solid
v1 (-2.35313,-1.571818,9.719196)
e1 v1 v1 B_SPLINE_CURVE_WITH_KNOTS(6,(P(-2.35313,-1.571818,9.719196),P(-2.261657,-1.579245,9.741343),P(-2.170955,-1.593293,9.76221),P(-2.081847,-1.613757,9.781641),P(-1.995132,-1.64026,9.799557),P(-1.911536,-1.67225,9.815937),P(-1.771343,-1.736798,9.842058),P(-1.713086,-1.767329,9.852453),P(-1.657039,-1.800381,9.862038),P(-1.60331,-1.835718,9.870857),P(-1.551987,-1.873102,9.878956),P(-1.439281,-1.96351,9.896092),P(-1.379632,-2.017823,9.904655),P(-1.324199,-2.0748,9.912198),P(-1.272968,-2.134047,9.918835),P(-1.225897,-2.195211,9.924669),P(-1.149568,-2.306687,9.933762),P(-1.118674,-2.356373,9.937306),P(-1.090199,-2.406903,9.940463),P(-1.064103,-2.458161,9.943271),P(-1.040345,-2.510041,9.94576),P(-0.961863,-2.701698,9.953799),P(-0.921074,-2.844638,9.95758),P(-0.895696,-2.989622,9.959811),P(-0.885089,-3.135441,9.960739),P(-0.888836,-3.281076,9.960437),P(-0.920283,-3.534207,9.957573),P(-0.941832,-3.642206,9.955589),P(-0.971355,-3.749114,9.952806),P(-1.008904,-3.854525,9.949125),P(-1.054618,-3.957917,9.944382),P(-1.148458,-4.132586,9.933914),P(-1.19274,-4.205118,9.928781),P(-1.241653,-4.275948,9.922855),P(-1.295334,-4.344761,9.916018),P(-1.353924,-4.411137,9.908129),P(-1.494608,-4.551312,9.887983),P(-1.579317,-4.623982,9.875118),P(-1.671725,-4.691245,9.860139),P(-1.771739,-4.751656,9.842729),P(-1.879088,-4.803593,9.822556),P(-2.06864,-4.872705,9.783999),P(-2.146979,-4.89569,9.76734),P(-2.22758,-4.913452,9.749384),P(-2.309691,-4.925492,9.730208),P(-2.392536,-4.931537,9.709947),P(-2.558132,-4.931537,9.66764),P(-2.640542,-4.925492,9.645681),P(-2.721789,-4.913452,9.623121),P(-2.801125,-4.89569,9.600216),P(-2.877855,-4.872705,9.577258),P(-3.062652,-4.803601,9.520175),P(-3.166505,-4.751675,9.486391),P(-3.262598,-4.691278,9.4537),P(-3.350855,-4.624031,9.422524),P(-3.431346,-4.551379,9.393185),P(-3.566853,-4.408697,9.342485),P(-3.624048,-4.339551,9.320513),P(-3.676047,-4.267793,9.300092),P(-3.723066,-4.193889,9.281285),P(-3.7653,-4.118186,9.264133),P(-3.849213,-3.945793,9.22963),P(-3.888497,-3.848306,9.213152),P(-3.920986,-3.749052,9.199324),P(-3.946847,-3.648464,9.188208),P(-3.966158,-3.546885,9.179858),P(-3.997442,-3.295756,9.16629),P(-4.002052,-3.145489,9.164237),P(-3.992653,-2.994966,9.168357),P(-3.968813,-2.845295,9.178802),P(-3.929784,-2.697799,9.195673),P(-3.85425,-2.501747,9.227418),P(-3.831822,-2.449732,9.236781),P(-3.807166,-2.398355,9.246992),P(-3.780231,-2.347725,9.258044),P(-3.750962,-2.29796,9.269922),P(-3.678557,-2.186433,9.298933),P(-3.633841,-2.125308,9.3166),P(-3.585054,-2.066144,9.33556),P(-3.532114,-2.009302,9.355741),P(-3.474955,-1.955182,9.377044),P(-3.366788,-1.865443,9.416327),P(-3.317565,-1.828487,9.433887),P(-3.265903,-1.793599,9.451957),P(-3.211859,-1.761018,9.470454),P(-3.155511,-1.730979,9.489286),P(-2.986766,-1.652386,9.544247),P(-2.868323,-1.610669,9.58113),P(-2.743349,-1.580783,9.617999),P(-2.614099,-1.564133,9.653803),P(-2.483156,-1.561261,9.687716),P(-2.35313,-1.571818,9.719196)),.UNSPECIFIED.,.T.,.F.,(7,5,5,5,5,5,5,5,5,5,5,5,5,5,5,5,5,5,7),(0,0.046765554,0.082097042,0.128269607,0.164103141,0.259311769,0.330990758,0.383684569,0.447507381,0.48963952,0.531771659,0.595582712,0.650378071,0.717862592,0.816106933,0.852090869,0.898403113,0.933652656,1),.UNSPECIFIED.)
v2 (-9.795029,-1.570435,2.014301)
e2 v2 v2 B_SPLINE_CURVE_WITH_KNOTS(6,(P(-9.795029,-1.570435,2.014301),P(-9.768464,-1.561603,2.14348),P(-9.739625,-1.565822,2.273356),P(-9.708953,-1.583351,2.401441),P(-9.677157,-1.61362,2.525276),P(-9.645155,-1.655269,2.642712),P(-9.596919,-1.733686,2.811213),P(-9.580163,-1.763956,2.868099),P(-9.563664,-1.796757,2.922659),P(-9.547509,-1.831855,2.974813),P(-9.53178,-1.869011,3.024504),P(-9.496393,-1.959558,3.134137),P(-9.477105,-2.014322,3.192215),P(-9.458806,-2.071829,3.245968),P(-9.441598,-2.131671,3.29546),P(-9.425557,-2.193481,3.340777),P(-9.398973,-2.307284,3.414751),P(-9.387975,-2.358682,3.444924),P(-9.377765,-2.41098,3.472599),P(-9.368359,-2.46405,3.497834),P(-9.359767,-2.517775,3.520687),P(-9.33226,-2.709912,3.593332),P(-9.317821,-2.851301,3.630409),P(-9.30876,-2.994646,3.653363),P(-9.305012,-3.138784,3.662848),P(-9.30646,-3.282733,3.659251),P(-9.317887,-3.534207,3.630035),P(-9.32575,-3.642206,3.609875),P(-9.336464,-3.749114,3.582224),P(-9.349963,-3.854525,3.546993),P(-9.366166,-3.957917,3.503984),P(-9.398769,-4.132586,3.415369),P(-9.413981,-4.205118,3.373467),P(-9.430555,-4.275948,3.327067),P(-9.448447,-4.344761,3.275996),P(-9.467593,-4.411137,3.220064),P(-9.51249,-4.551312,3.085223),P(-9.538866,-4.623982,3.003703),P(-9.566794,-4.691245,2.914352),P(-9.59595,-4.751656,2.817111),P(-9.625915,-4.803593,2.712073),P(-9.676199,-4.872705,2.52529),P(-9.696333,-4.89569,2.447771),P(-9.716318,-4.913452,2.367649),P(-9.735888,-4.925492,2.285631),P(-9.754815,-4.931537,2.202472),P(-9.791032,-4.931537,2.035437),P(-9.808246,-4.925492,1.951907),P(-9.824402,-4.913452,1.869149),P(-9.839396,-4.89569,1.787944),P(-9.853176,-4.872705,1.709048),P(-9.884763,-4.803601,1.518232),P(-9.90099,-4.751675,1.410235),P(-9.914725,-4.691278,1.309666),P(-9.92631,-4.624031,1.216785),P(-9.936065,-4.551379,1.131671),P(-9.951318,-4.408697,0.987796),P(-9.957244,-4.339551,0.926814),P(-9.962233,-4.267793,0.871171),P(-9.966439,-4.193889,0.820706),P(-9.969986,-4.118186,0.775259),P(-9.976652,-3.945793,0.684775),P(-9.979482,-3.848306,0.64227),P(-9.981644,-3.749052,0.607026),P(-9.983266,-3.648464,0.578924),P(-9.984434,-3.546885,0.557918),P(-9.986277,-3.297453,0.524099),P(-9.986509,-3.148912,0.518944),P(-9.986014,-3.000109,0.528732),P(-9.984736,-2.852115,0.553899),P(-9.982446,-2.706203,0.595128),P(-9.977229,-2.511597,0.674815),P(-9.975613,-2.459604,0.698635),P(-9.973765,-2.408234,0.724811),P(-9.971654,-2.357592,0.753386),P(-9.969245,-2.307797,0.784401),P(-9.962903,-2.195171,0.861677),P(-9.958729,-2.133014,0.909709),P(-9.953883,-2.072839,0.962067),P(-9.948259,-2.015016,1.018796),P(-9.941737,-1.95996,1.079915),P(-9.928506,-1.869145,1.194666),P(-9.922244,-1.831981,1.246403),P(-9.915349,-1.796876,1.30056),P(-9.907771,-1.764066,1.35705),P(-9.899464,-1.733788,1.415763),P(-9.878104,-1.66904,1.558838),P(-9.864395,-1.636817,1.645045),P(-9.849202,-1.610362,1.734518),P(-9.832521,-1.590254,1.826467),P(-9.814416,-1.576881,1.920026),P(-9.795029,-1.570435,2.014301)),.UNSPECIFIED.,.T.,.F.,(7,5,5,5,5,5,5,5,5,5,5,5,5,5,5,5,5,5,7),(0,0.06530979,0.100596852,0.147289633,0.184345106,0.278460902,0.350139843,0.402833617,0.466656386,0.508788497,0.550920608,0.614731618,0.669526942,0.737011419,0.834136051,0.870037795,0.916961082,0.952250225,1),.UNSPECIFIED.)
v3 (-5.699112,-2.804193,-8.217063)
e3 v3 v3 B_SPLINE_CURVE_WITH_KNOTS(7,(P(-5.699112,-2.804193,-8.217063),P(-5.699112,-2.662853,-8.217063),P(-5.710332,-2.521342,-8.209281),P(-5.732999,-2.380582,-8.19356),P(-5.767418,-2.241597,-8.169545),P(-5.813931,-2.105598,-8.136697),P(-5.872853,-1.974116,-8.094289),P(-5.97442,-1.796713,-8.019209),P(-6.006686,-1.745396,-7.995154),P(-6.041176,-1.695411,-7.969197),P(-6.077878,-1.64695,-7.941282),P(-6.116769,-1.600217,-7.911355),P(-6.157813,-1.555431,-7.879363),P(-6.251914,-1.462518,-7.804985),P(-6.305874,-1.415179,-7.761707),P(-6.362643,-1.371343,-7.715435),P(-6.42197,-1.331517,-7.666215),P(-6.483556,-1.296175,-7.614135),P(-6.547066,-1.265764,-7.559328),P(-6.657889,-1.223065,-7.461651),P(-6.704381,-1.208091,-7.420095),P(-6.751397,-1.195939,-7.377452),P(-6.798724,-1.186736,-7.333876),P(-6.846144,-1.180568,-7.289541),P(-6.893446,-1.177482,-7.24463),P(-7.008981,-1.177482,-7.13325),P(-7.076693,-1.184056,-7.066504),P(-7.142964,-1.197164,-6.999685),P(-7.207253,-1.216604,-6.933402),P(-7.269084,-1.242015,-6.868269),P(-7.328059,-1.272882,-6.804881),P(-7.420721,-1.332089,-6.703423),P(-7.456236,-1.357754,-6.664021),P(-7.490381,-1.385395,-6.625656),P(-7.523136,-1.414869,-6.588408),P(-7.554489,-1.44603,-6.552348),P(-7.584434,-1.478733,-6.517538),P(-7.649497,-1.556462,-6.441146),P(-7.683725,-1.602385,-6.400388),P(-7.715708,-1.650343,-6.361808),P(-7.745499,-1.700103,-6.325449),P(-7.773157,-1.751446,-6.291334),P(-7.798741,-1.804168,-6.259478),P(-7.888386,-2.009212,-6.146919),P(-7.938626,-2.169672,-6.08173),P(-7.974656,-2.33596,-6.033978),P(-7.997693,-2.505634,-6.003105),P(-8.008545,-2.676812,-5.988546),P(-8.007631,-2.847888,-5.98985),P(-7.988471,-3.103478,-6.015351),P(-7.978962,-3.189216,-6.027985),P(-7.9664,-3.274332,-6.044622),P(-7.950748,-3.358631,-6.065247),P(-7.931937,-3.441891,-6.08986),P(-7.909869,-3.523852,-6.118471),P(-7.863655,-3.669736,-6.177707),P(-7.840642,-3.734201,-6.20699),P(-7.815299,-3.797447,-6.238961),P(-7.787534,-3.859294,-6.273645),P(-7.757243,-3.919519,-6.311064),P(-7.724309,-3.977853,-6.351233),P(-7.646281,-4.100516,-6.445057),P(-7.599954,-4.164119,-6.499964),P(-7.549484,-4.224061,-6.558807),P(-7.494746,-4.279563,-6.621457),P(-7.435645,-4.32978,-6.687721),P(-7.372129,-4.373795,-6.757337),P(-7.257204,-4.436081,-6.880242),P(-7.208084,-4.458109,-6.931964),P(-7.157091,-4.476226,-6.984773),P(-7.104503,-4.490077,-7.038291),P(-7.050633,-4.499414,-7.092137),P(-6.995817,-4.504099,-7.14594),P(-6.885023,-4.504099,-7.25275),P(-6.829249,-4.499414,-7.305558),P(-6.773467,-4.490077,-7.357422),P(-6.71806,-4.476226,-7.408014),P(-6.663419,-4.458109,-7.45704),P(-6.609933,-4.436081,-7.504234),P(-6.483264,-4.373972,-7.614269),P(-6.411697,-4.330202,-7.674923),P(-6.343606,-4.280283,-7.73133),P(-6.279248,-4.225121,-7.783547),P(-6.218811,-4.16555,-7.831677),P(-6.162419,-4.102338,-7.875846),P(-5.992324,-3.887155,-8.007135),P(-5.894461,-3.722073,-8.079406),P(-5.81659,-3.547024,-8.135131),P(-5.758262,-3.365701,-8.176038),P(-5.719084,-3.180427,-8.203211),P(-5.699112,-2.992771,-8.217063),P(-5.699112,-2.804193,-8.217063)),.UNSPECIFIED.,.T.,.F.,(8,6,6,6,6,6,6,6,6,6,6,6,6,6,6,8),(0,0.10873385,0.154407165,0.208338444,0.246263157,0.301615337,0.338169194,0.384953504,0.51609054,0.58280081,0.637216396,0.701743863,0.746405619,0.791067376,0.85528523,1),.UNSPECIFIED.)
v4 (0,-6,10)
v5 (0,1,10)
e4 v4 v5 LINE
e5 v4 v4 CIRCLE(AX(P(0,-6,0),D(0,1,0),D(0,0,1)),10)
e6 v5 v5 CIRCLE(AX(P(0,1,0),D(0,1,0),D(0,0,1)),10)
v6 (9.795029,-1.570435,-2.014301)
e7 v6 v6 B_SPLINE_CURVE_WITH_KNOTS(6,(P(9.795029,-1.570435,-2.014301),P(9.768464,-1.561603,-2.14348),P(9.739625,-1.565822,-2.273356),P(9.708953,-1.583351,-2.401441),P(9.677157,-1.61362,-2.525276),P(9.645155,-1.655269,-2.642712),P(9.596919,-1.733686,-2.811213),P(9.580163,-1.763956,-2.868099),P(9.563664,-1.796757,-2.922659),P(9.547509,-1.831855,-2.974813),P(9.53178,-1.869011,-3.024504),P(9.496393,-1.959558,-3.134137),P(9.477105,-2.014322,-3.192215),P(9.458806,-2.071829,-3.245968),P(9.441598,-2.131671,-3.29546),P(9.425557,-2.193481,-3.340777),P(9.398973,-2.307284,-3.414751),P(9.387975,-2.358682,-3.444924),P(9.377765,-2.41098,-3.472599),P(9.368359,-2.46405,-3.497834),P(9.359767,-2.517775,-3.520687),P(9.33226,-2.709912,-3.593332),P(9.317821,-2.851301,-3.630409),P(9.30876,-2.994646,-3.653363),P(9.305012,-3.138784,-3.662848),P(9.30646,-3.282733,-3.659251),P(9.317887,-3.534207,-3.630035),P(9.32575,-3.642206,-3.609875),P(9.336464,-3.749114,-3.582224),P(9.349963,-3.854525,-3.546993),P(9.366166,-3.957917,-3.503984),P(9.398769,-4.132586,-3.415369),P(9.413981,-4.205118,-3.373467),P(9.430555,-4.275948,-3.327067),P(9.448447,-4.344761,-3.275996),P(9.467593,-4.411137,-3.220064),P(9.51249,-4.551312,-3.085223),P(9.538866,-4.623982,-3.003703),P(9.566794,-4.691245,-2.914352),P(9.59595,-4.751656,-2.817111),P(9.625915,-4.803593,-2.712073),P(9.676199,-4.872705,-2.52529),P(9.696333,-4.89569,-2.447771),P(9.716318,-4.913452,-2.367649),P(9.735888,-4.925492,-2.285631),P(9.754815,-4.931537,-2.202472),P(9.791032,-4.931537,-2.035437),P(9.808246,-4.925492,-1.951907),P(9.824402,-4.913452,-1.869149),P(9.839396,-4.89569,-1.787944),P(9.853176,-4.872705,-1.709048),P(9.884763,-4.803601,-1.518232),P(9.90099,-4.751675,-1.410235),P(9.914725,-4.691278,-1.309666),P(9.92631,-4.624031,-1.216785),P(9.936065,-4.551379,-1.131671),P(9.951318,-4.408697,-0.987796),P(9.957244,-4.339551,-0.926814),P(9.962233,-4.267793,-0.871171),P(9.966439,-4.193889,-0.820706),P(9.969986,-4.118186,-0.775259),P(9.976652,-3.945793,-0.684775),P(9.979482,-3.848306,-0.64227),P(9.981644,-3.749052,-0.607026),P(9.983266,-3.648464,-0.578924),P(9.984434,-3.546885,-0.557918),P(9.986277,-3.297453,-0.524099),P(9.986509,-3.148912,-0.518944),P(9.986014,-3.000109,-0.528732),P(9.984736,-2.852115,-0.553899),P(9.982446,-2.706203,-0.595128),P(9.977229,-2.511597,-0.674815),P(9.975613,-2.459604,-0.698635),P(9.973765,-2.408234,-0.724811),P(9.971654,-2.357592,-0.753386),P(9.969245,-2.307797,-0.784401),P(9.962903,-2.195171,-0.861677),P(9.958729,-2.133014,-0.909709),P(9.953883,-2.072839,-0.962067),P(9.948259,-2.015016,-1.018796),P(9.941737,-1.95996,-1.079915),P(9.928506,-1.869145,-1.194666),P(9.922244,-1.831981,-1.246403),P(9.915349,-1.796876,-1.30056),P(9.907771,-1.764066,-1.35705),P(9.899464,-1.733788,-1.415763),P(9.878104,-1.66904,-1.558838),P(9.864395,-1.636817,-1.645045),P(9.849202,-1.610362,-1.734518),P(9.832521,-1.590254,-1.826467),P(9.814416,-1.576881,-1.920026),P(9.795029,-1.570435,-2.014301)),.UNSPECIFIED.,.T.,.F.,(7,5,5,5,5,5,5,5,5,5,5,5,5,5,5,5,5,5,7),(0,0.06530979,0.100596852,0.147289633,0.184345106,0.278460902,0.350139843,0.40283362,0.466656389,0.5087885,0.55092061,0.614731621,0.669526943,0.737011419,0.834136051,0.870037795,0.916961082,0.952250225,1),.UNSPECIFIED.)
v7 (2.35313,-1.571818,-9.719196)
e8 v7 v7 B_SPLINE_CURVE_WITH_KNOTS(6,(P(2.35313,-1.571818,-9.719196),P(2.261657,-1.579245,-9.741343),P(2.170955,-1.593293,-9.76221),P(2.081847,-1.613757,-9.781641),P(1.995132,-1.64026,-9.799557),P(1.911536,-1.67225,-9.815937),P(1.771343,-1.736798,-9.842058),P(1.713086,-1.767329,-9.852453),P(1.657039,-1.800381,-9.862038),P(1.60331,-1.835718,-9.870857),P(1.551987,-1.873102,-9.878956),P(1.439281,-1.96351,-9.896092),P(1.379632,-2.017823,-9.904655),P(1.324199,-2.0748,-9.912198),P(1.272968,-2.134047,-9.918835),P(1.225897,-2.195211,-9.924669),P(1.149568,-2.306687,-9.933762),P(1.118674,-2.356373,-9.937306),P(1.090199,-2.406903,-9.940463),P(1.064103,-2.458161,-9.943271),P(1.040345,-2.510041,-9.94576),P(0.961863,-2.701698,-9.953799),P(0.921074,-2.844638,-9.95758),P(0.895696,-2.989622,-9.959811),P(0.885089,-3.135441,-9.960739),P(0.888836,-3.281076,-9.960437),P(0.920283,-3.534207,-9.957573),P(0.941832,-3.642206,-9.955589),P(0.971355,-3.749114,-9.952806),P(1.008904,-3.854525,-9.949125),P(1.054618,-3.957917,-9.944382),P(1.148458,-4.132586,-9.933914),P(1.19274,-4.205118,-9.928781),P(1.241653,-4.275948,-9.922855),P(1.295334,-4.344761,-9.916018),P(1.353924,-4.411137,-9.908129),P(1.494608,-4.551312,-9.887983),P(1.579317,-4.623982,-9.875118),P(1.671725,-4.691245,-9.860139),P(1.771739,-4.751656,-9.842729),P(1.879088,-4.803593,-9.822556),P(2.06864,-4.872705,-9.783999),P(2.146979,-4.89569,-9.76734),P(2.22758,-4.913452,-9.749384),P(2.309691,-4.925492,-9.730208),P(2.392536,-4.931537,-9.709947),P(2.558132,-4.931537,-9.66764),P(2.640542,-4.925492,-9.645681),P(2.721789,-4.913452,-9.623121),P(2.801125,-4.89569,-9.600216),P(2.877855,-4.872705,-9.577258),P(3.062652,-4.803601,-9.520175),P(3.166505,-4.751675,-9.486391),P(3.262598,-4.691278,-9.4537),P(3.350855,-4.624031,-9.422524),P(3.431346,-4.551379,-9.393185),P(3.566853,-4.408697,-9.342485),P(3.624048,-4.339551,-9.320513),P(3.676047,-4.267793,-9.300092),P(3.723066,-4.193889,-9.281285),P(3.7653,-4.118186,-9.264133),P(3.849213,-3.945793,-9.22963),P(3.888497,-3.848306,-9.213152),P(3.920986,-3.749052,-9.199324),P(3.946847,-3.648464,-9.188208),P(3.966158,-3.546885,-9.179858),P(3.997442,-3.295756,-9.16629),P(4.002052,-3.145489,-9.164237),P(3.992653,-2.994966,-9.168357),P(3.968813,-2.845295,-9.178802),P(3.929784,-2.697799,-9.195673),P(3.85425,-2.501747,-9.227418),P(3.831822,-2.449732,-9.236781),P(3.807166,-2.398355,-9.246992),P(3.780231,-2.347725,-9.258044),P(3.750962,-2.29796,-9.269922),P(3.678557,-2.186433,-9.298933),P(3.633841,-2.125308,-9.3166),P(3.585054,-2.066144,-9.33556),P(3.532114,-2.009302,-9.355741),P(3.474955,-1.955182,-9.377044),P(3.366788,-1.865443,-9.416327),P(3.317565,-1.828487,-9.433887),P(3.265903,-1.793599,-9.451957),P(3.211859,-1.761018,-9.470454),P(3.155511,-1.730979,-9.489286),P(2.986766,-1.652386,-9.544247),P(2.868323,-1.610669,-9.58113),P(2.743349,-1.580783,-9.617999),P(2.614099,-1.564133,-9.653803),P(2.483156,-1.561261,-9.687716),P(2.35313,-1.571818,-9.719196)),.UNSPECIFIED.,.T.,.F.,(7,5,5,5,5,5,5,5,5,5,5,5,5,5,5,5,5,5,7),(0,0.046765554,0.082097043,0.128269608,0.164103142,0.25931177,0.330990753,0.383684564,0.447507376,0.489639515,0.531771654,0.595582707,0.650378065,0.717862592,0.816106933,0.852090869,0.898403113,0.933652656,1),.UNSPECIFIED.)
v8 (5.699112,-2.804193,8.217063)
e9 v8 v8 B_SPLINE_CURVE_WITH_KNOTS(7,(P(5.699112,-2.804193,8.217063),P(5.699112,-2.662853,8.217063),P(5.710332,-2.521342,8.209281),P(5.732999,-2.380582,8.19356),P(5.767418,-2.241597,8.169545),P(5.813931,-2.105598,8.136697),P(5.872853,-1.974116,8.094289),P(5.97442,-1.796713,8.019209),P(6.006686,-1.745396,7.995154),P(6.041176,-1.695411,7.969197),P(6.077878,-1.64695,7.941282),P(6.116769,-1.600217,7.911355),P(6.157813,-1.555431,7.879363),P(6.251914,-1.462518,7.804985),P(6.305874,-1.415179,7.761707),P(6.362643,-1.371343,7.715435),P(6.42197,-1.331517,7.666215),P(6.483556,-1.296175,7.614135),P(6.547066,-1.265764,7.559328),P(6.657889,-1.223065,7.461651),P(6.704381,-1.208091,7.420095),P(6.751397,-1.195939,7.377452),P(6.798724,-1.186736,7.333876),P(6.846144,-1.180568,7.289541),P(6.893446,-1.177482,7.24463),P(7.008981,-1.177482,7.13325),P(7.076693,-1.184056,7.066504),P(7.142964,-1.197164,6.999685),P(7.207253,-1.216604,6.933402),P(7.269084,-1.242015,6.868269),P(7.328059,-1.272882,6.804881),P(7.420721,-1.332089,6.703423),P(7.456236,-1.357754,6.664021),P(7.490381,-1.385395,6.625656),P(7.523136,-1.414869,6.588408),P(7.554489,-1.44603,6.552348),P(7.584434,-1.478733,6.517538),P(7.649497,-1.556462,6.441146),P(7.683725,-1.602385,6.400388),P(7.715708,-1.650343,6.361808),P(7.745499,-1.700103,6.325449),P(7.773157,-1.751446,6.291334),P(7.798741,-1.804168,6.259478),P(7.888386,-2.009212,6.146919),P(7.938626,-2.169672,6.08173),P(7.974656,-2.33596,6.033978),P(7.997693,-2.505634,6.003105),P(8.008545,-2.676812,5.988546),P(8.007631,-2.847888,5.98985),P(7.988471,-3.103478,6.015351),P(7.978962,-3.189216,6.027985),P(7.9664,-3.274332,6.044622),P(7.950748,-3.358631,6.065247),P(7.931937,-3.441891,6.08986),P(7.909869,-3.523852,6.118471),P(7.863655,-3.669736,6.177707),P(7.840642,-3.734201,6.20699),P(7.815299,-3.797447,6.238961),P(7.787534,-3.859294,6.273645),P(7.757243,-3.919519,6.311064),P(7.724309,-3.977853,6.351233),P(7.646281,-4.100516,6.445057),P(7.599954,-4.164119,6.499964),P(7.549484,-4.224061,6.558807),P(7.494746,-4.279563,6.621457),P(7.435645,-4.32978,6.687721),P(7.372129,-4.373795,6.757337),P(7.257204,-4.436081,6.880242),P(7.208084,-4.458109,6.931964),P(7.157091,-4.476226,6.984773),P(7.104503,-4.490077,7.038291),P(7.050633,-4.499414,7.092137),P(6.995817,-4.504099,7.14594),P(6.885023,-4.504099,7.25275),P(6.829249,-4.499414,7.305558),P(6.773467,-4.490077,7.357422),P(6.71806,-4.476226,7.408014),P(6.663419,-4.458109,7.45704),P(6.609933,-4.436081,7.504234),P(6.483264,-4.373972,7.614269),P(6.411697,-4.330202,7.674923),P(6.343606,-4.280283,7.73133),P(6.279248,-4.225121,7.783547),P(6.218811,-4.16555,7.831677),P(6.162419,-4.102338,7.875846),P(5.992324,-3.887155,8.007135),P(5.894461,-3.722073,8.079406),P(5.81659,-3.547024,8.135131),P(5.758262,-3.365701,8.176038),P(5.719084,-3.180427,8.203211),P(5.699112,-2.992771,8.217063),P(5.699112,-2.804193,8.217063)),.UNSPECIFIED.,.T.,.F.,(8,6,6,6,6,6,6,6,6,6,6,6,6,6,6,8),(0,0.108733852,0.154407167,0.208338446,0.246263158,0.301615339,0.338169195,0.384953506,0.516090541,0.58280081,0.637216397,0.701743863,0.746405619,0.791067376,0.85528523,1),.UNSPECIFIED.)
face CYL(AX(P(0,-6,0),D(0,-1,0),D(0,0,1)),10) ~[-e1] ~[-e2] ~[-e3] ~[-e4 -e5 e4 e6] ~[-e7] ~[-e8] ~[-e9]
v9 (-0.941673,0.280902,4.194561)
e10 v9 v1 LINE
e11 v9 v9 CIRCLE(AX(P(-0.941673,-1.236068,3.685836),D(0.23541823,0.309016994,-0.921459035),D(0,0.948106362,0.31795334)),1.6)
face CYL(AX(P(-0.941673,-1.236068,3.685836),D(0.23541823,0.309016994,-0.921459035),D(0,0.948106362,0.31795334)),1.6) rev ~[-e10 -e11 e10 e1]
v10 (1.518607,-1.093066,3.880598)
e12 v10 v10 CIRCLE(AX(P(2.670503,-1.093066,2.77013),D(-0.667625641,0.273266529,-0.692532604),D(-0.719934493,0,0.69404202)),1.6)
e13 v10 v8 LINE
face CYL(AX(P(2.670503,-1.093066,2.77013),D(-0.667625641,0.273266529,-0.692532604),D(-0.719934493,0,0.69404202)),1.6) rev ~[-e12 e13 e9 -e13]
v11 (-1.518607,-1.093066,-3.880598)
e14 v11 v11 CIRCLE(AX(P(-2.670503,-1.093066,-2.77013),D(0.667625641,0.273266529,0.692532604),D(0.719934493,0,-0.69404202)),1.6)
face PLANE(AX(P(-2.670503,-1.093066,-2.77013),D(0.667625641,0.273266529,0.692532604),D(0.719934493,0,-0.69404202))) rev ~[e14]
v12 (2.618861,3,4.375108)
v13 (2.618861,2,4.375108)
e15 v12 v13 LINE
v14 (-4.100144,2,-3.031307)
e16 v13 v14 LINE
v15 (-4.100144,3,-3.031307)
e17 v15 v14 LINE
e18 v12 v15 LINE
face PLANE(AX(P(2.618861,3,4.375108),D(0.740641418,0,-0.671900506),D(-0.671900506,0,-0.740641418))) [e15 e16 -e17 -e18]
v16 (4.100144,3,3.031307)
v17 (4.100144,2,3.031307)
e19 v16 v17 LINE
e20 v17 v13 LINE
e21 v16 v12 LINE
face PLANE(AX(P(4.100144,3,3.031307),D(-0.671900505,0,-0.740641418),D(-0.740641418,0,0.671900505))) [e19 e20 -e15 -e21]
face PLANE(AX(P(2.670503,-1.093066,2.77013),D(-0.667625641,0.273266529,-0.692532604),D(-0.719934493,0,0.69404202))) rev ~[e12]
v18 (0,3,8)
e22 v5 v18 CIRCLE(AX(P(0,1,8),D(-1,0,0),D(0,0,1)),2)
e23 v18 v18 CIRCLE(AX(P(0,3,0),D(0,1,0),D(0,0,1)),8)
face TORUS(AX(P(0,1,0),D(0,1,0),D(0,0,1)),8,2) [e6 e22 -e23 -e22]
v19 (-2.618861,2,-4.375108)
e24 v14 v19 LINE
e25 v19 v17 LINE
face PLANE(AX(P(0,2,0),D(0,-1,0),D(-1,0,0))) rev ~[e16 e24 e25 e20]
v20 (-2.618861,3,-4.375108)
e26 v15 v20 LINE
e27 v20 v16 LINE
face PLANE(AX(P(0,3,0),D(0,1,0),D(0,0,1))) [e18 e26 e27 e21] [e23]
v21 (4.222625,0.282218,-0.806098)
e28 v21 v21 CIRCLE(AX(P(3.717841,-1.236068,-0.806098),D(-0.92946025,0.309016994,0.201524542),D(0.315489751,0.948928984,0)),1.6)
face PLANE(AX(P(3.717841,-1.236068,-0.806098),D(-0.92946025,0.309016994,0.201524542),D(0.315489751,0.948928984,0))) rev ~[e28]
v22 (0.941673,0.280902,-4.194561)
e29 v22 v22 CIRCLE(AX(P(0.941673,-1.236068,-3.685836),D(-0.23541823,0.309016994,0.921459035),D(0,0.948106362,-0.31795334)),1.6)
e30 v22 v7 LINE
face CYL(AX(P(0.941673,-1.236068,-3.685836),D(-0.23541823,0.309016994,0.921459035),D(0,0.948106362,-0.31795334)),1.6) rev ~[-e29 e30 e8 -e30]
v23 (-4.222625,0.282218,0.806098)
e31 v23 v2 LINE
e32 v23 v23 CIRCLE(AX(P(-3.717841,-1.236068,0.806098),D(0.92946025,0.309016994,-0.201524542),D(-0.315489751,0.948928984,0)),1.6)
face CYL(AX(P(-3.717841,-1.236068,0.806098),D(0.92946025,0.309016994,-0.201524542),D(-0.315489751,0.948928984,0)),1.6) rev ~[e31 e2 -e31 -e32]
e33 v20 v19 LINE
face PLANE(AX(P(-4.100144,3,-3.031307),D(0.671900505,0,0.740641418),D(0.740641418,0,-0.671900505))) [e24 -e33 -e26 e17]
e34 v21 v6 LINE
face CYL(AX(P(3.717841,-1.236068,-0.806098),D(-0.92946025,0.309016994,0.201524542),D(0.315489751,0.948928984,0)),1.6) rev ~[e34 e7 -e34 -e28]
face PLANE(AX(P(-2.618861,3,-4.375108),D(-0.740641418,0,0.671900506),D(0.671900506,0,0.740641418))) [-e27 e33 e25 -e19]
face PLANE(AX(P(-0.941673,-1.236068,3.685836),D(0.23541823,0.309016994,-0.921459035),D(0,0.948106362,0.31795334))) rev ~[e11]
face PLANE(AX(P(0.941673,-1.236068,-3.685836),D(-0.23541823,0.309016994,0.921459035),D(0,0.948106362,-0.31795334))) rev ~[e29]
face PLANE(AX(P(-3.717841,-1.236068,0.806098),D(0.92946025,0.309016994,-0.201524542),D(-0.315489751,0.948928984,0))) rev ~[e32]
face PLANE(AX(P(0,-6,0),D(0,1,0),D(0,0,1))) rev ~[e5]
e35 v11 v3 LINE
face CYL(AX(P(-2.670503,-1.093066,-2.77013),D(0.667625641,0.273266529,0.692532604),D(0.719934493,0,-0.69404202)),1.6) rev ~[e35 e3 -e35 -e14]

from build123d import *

# Parameters (mm, degrees)
BASE_DEPTH         = 3
BASE_DEPTH_BACK    = 6
SKETCH1_R          = 10
SKETCH2_R          = 1.6
HOLE1_DEPTH        = 19.646604683
HOLE1MIRROR_COUNT  = 2
SKETCH3_R          = 1.6
HOLE2_DEPTH        = 19.158121362
HOLE2MIRROR_COUNT  = 2
SKETCH4_R          = 1.6
HOLE3_DEPTH        = 19.100993715
HOLE3MIRROR_COUNT  = 2
FILLET1_R          = 2
CUT_EXTRUDE1_DEPTH = 1


with BuildPart() as part:
    # Sketch1 → base (new, two sides: drawn at the far end of the back side and taken through both)
    with BuildSketch(Plane(origin=(0, 0, 0), x_dir=(1, 0, 0), z_dir=(0, 1, 0)).offset(-BASE_DEPTH_BACK)):
        Circle(SKETCH1_R)
    extrude(amount=BASE_DEPTH + BASE_DEPTH_BACK)

    # Sketch2 → hole1 (cut, through all)
    with BuildSketch(Plane(origin=(2.670502563, -1.093066116, 2.770130417), x_dir=(-0.6558691872850446, 0.22429081675253856, 0.7207837669443827), z_dir=(-0.6676256406563905, 0.27326652891267483, -0.692532604369038))):
        Circle(SKETCH2_R)
    hole1 = extrude(amount=-HOLE1_DEPTH, mode=Mode.SUBTRACT)

    # hole1mirror: hole1 ×2 about axis
    hole1mirror_axis = Axis((0, 5.5, 0), (0, -1, 0))
    for i in range(1, HOLE1MIRROR_COUNT):
        add(hole1.rotate(hole1mirror_axis, i * 360 / HOLE1MIRROR_COUNT), mode=Mode.SUBTRACT)

    # Sketch3 → hole2 (cut, through all)
    with BuildSketch(Plane(origin=(-0.941672921, -1.236067977, 3.685836142), x_dir=(-0.9718935871364875, 0.07382318789513377, -0.22354639834264944), z_dir=(0.23541823021467095, 0.3090169943749464, -0.921459035481267))):
        Circle(SKETCH3_R)
    hole2 = extrude(amount=-HOLE2_DEPTH, mode=Mode.SUBTRACT)

    # hole2mirror: hole2 ×2 about axis
    hole2mirror_axis = Axis((0, 5.5, 0), (0, -1, 0))
    for i in range(1, HOLE2MIRROR_COUNT):
        add(hole2.rotate(hole2mirror_axis, i * 360 / HOLE2MIRROR_COUNT), mode=Mode.SUBTRACT)

    # Sketch4 → hole3 (cut, through all)
    with BuildSketch(Plane(origin=(-3.717841, -1.236067977, 0.806098168), x_dir=(-0.19123247894507908, -0.06357892752956036, -0.979483465389136), z_dir=(0.9294602499075393, 0.30901699437494623, -0.20152454200243008))):
        Circle(SKETCH4_R)
    hole3 = extrude(amount=-HOLE3_DEPTH, mode=Mode.SUBTRACT)

    # hole3mirror: hole3 ×2 about axis
    hole3mirror_axis = Axis((0, 5.5, 0), (0, -1, 0))
    for i in range(1, HOLE3MIRROR_COUNT):
        add(hole3.rotate(hole3mirror_axis, i * 360 / HOLE3MIRROR_COUNT), mode=Mode.SUBTRACT)

    # Fillet1
    fillet1_edges = [part.edges().sort_by_distance(p)[0] for p in [
        (-10, 3, 0),
    ]]
    fillet(fillet1_edges, radius=FILLET1_R)

    # Sketch6 → Cut-Extrude1 (cut)
    with BuildSketch(Plane(origin=(0, 3, 0), x_dir=(1, 0, 0), z_dir=(0, 1, 0))):
        Polygon((-4.100143947, 3.031306586), (-2.61886111, 4.375107597), (4.100143947, -3.031306586), (2.61886111, -4.375107597), align=None)
    extrude(amount=-CUT_EXTRUDE1_DEPTH, mode=Mode.SUBTRACT)


solid = part.part
